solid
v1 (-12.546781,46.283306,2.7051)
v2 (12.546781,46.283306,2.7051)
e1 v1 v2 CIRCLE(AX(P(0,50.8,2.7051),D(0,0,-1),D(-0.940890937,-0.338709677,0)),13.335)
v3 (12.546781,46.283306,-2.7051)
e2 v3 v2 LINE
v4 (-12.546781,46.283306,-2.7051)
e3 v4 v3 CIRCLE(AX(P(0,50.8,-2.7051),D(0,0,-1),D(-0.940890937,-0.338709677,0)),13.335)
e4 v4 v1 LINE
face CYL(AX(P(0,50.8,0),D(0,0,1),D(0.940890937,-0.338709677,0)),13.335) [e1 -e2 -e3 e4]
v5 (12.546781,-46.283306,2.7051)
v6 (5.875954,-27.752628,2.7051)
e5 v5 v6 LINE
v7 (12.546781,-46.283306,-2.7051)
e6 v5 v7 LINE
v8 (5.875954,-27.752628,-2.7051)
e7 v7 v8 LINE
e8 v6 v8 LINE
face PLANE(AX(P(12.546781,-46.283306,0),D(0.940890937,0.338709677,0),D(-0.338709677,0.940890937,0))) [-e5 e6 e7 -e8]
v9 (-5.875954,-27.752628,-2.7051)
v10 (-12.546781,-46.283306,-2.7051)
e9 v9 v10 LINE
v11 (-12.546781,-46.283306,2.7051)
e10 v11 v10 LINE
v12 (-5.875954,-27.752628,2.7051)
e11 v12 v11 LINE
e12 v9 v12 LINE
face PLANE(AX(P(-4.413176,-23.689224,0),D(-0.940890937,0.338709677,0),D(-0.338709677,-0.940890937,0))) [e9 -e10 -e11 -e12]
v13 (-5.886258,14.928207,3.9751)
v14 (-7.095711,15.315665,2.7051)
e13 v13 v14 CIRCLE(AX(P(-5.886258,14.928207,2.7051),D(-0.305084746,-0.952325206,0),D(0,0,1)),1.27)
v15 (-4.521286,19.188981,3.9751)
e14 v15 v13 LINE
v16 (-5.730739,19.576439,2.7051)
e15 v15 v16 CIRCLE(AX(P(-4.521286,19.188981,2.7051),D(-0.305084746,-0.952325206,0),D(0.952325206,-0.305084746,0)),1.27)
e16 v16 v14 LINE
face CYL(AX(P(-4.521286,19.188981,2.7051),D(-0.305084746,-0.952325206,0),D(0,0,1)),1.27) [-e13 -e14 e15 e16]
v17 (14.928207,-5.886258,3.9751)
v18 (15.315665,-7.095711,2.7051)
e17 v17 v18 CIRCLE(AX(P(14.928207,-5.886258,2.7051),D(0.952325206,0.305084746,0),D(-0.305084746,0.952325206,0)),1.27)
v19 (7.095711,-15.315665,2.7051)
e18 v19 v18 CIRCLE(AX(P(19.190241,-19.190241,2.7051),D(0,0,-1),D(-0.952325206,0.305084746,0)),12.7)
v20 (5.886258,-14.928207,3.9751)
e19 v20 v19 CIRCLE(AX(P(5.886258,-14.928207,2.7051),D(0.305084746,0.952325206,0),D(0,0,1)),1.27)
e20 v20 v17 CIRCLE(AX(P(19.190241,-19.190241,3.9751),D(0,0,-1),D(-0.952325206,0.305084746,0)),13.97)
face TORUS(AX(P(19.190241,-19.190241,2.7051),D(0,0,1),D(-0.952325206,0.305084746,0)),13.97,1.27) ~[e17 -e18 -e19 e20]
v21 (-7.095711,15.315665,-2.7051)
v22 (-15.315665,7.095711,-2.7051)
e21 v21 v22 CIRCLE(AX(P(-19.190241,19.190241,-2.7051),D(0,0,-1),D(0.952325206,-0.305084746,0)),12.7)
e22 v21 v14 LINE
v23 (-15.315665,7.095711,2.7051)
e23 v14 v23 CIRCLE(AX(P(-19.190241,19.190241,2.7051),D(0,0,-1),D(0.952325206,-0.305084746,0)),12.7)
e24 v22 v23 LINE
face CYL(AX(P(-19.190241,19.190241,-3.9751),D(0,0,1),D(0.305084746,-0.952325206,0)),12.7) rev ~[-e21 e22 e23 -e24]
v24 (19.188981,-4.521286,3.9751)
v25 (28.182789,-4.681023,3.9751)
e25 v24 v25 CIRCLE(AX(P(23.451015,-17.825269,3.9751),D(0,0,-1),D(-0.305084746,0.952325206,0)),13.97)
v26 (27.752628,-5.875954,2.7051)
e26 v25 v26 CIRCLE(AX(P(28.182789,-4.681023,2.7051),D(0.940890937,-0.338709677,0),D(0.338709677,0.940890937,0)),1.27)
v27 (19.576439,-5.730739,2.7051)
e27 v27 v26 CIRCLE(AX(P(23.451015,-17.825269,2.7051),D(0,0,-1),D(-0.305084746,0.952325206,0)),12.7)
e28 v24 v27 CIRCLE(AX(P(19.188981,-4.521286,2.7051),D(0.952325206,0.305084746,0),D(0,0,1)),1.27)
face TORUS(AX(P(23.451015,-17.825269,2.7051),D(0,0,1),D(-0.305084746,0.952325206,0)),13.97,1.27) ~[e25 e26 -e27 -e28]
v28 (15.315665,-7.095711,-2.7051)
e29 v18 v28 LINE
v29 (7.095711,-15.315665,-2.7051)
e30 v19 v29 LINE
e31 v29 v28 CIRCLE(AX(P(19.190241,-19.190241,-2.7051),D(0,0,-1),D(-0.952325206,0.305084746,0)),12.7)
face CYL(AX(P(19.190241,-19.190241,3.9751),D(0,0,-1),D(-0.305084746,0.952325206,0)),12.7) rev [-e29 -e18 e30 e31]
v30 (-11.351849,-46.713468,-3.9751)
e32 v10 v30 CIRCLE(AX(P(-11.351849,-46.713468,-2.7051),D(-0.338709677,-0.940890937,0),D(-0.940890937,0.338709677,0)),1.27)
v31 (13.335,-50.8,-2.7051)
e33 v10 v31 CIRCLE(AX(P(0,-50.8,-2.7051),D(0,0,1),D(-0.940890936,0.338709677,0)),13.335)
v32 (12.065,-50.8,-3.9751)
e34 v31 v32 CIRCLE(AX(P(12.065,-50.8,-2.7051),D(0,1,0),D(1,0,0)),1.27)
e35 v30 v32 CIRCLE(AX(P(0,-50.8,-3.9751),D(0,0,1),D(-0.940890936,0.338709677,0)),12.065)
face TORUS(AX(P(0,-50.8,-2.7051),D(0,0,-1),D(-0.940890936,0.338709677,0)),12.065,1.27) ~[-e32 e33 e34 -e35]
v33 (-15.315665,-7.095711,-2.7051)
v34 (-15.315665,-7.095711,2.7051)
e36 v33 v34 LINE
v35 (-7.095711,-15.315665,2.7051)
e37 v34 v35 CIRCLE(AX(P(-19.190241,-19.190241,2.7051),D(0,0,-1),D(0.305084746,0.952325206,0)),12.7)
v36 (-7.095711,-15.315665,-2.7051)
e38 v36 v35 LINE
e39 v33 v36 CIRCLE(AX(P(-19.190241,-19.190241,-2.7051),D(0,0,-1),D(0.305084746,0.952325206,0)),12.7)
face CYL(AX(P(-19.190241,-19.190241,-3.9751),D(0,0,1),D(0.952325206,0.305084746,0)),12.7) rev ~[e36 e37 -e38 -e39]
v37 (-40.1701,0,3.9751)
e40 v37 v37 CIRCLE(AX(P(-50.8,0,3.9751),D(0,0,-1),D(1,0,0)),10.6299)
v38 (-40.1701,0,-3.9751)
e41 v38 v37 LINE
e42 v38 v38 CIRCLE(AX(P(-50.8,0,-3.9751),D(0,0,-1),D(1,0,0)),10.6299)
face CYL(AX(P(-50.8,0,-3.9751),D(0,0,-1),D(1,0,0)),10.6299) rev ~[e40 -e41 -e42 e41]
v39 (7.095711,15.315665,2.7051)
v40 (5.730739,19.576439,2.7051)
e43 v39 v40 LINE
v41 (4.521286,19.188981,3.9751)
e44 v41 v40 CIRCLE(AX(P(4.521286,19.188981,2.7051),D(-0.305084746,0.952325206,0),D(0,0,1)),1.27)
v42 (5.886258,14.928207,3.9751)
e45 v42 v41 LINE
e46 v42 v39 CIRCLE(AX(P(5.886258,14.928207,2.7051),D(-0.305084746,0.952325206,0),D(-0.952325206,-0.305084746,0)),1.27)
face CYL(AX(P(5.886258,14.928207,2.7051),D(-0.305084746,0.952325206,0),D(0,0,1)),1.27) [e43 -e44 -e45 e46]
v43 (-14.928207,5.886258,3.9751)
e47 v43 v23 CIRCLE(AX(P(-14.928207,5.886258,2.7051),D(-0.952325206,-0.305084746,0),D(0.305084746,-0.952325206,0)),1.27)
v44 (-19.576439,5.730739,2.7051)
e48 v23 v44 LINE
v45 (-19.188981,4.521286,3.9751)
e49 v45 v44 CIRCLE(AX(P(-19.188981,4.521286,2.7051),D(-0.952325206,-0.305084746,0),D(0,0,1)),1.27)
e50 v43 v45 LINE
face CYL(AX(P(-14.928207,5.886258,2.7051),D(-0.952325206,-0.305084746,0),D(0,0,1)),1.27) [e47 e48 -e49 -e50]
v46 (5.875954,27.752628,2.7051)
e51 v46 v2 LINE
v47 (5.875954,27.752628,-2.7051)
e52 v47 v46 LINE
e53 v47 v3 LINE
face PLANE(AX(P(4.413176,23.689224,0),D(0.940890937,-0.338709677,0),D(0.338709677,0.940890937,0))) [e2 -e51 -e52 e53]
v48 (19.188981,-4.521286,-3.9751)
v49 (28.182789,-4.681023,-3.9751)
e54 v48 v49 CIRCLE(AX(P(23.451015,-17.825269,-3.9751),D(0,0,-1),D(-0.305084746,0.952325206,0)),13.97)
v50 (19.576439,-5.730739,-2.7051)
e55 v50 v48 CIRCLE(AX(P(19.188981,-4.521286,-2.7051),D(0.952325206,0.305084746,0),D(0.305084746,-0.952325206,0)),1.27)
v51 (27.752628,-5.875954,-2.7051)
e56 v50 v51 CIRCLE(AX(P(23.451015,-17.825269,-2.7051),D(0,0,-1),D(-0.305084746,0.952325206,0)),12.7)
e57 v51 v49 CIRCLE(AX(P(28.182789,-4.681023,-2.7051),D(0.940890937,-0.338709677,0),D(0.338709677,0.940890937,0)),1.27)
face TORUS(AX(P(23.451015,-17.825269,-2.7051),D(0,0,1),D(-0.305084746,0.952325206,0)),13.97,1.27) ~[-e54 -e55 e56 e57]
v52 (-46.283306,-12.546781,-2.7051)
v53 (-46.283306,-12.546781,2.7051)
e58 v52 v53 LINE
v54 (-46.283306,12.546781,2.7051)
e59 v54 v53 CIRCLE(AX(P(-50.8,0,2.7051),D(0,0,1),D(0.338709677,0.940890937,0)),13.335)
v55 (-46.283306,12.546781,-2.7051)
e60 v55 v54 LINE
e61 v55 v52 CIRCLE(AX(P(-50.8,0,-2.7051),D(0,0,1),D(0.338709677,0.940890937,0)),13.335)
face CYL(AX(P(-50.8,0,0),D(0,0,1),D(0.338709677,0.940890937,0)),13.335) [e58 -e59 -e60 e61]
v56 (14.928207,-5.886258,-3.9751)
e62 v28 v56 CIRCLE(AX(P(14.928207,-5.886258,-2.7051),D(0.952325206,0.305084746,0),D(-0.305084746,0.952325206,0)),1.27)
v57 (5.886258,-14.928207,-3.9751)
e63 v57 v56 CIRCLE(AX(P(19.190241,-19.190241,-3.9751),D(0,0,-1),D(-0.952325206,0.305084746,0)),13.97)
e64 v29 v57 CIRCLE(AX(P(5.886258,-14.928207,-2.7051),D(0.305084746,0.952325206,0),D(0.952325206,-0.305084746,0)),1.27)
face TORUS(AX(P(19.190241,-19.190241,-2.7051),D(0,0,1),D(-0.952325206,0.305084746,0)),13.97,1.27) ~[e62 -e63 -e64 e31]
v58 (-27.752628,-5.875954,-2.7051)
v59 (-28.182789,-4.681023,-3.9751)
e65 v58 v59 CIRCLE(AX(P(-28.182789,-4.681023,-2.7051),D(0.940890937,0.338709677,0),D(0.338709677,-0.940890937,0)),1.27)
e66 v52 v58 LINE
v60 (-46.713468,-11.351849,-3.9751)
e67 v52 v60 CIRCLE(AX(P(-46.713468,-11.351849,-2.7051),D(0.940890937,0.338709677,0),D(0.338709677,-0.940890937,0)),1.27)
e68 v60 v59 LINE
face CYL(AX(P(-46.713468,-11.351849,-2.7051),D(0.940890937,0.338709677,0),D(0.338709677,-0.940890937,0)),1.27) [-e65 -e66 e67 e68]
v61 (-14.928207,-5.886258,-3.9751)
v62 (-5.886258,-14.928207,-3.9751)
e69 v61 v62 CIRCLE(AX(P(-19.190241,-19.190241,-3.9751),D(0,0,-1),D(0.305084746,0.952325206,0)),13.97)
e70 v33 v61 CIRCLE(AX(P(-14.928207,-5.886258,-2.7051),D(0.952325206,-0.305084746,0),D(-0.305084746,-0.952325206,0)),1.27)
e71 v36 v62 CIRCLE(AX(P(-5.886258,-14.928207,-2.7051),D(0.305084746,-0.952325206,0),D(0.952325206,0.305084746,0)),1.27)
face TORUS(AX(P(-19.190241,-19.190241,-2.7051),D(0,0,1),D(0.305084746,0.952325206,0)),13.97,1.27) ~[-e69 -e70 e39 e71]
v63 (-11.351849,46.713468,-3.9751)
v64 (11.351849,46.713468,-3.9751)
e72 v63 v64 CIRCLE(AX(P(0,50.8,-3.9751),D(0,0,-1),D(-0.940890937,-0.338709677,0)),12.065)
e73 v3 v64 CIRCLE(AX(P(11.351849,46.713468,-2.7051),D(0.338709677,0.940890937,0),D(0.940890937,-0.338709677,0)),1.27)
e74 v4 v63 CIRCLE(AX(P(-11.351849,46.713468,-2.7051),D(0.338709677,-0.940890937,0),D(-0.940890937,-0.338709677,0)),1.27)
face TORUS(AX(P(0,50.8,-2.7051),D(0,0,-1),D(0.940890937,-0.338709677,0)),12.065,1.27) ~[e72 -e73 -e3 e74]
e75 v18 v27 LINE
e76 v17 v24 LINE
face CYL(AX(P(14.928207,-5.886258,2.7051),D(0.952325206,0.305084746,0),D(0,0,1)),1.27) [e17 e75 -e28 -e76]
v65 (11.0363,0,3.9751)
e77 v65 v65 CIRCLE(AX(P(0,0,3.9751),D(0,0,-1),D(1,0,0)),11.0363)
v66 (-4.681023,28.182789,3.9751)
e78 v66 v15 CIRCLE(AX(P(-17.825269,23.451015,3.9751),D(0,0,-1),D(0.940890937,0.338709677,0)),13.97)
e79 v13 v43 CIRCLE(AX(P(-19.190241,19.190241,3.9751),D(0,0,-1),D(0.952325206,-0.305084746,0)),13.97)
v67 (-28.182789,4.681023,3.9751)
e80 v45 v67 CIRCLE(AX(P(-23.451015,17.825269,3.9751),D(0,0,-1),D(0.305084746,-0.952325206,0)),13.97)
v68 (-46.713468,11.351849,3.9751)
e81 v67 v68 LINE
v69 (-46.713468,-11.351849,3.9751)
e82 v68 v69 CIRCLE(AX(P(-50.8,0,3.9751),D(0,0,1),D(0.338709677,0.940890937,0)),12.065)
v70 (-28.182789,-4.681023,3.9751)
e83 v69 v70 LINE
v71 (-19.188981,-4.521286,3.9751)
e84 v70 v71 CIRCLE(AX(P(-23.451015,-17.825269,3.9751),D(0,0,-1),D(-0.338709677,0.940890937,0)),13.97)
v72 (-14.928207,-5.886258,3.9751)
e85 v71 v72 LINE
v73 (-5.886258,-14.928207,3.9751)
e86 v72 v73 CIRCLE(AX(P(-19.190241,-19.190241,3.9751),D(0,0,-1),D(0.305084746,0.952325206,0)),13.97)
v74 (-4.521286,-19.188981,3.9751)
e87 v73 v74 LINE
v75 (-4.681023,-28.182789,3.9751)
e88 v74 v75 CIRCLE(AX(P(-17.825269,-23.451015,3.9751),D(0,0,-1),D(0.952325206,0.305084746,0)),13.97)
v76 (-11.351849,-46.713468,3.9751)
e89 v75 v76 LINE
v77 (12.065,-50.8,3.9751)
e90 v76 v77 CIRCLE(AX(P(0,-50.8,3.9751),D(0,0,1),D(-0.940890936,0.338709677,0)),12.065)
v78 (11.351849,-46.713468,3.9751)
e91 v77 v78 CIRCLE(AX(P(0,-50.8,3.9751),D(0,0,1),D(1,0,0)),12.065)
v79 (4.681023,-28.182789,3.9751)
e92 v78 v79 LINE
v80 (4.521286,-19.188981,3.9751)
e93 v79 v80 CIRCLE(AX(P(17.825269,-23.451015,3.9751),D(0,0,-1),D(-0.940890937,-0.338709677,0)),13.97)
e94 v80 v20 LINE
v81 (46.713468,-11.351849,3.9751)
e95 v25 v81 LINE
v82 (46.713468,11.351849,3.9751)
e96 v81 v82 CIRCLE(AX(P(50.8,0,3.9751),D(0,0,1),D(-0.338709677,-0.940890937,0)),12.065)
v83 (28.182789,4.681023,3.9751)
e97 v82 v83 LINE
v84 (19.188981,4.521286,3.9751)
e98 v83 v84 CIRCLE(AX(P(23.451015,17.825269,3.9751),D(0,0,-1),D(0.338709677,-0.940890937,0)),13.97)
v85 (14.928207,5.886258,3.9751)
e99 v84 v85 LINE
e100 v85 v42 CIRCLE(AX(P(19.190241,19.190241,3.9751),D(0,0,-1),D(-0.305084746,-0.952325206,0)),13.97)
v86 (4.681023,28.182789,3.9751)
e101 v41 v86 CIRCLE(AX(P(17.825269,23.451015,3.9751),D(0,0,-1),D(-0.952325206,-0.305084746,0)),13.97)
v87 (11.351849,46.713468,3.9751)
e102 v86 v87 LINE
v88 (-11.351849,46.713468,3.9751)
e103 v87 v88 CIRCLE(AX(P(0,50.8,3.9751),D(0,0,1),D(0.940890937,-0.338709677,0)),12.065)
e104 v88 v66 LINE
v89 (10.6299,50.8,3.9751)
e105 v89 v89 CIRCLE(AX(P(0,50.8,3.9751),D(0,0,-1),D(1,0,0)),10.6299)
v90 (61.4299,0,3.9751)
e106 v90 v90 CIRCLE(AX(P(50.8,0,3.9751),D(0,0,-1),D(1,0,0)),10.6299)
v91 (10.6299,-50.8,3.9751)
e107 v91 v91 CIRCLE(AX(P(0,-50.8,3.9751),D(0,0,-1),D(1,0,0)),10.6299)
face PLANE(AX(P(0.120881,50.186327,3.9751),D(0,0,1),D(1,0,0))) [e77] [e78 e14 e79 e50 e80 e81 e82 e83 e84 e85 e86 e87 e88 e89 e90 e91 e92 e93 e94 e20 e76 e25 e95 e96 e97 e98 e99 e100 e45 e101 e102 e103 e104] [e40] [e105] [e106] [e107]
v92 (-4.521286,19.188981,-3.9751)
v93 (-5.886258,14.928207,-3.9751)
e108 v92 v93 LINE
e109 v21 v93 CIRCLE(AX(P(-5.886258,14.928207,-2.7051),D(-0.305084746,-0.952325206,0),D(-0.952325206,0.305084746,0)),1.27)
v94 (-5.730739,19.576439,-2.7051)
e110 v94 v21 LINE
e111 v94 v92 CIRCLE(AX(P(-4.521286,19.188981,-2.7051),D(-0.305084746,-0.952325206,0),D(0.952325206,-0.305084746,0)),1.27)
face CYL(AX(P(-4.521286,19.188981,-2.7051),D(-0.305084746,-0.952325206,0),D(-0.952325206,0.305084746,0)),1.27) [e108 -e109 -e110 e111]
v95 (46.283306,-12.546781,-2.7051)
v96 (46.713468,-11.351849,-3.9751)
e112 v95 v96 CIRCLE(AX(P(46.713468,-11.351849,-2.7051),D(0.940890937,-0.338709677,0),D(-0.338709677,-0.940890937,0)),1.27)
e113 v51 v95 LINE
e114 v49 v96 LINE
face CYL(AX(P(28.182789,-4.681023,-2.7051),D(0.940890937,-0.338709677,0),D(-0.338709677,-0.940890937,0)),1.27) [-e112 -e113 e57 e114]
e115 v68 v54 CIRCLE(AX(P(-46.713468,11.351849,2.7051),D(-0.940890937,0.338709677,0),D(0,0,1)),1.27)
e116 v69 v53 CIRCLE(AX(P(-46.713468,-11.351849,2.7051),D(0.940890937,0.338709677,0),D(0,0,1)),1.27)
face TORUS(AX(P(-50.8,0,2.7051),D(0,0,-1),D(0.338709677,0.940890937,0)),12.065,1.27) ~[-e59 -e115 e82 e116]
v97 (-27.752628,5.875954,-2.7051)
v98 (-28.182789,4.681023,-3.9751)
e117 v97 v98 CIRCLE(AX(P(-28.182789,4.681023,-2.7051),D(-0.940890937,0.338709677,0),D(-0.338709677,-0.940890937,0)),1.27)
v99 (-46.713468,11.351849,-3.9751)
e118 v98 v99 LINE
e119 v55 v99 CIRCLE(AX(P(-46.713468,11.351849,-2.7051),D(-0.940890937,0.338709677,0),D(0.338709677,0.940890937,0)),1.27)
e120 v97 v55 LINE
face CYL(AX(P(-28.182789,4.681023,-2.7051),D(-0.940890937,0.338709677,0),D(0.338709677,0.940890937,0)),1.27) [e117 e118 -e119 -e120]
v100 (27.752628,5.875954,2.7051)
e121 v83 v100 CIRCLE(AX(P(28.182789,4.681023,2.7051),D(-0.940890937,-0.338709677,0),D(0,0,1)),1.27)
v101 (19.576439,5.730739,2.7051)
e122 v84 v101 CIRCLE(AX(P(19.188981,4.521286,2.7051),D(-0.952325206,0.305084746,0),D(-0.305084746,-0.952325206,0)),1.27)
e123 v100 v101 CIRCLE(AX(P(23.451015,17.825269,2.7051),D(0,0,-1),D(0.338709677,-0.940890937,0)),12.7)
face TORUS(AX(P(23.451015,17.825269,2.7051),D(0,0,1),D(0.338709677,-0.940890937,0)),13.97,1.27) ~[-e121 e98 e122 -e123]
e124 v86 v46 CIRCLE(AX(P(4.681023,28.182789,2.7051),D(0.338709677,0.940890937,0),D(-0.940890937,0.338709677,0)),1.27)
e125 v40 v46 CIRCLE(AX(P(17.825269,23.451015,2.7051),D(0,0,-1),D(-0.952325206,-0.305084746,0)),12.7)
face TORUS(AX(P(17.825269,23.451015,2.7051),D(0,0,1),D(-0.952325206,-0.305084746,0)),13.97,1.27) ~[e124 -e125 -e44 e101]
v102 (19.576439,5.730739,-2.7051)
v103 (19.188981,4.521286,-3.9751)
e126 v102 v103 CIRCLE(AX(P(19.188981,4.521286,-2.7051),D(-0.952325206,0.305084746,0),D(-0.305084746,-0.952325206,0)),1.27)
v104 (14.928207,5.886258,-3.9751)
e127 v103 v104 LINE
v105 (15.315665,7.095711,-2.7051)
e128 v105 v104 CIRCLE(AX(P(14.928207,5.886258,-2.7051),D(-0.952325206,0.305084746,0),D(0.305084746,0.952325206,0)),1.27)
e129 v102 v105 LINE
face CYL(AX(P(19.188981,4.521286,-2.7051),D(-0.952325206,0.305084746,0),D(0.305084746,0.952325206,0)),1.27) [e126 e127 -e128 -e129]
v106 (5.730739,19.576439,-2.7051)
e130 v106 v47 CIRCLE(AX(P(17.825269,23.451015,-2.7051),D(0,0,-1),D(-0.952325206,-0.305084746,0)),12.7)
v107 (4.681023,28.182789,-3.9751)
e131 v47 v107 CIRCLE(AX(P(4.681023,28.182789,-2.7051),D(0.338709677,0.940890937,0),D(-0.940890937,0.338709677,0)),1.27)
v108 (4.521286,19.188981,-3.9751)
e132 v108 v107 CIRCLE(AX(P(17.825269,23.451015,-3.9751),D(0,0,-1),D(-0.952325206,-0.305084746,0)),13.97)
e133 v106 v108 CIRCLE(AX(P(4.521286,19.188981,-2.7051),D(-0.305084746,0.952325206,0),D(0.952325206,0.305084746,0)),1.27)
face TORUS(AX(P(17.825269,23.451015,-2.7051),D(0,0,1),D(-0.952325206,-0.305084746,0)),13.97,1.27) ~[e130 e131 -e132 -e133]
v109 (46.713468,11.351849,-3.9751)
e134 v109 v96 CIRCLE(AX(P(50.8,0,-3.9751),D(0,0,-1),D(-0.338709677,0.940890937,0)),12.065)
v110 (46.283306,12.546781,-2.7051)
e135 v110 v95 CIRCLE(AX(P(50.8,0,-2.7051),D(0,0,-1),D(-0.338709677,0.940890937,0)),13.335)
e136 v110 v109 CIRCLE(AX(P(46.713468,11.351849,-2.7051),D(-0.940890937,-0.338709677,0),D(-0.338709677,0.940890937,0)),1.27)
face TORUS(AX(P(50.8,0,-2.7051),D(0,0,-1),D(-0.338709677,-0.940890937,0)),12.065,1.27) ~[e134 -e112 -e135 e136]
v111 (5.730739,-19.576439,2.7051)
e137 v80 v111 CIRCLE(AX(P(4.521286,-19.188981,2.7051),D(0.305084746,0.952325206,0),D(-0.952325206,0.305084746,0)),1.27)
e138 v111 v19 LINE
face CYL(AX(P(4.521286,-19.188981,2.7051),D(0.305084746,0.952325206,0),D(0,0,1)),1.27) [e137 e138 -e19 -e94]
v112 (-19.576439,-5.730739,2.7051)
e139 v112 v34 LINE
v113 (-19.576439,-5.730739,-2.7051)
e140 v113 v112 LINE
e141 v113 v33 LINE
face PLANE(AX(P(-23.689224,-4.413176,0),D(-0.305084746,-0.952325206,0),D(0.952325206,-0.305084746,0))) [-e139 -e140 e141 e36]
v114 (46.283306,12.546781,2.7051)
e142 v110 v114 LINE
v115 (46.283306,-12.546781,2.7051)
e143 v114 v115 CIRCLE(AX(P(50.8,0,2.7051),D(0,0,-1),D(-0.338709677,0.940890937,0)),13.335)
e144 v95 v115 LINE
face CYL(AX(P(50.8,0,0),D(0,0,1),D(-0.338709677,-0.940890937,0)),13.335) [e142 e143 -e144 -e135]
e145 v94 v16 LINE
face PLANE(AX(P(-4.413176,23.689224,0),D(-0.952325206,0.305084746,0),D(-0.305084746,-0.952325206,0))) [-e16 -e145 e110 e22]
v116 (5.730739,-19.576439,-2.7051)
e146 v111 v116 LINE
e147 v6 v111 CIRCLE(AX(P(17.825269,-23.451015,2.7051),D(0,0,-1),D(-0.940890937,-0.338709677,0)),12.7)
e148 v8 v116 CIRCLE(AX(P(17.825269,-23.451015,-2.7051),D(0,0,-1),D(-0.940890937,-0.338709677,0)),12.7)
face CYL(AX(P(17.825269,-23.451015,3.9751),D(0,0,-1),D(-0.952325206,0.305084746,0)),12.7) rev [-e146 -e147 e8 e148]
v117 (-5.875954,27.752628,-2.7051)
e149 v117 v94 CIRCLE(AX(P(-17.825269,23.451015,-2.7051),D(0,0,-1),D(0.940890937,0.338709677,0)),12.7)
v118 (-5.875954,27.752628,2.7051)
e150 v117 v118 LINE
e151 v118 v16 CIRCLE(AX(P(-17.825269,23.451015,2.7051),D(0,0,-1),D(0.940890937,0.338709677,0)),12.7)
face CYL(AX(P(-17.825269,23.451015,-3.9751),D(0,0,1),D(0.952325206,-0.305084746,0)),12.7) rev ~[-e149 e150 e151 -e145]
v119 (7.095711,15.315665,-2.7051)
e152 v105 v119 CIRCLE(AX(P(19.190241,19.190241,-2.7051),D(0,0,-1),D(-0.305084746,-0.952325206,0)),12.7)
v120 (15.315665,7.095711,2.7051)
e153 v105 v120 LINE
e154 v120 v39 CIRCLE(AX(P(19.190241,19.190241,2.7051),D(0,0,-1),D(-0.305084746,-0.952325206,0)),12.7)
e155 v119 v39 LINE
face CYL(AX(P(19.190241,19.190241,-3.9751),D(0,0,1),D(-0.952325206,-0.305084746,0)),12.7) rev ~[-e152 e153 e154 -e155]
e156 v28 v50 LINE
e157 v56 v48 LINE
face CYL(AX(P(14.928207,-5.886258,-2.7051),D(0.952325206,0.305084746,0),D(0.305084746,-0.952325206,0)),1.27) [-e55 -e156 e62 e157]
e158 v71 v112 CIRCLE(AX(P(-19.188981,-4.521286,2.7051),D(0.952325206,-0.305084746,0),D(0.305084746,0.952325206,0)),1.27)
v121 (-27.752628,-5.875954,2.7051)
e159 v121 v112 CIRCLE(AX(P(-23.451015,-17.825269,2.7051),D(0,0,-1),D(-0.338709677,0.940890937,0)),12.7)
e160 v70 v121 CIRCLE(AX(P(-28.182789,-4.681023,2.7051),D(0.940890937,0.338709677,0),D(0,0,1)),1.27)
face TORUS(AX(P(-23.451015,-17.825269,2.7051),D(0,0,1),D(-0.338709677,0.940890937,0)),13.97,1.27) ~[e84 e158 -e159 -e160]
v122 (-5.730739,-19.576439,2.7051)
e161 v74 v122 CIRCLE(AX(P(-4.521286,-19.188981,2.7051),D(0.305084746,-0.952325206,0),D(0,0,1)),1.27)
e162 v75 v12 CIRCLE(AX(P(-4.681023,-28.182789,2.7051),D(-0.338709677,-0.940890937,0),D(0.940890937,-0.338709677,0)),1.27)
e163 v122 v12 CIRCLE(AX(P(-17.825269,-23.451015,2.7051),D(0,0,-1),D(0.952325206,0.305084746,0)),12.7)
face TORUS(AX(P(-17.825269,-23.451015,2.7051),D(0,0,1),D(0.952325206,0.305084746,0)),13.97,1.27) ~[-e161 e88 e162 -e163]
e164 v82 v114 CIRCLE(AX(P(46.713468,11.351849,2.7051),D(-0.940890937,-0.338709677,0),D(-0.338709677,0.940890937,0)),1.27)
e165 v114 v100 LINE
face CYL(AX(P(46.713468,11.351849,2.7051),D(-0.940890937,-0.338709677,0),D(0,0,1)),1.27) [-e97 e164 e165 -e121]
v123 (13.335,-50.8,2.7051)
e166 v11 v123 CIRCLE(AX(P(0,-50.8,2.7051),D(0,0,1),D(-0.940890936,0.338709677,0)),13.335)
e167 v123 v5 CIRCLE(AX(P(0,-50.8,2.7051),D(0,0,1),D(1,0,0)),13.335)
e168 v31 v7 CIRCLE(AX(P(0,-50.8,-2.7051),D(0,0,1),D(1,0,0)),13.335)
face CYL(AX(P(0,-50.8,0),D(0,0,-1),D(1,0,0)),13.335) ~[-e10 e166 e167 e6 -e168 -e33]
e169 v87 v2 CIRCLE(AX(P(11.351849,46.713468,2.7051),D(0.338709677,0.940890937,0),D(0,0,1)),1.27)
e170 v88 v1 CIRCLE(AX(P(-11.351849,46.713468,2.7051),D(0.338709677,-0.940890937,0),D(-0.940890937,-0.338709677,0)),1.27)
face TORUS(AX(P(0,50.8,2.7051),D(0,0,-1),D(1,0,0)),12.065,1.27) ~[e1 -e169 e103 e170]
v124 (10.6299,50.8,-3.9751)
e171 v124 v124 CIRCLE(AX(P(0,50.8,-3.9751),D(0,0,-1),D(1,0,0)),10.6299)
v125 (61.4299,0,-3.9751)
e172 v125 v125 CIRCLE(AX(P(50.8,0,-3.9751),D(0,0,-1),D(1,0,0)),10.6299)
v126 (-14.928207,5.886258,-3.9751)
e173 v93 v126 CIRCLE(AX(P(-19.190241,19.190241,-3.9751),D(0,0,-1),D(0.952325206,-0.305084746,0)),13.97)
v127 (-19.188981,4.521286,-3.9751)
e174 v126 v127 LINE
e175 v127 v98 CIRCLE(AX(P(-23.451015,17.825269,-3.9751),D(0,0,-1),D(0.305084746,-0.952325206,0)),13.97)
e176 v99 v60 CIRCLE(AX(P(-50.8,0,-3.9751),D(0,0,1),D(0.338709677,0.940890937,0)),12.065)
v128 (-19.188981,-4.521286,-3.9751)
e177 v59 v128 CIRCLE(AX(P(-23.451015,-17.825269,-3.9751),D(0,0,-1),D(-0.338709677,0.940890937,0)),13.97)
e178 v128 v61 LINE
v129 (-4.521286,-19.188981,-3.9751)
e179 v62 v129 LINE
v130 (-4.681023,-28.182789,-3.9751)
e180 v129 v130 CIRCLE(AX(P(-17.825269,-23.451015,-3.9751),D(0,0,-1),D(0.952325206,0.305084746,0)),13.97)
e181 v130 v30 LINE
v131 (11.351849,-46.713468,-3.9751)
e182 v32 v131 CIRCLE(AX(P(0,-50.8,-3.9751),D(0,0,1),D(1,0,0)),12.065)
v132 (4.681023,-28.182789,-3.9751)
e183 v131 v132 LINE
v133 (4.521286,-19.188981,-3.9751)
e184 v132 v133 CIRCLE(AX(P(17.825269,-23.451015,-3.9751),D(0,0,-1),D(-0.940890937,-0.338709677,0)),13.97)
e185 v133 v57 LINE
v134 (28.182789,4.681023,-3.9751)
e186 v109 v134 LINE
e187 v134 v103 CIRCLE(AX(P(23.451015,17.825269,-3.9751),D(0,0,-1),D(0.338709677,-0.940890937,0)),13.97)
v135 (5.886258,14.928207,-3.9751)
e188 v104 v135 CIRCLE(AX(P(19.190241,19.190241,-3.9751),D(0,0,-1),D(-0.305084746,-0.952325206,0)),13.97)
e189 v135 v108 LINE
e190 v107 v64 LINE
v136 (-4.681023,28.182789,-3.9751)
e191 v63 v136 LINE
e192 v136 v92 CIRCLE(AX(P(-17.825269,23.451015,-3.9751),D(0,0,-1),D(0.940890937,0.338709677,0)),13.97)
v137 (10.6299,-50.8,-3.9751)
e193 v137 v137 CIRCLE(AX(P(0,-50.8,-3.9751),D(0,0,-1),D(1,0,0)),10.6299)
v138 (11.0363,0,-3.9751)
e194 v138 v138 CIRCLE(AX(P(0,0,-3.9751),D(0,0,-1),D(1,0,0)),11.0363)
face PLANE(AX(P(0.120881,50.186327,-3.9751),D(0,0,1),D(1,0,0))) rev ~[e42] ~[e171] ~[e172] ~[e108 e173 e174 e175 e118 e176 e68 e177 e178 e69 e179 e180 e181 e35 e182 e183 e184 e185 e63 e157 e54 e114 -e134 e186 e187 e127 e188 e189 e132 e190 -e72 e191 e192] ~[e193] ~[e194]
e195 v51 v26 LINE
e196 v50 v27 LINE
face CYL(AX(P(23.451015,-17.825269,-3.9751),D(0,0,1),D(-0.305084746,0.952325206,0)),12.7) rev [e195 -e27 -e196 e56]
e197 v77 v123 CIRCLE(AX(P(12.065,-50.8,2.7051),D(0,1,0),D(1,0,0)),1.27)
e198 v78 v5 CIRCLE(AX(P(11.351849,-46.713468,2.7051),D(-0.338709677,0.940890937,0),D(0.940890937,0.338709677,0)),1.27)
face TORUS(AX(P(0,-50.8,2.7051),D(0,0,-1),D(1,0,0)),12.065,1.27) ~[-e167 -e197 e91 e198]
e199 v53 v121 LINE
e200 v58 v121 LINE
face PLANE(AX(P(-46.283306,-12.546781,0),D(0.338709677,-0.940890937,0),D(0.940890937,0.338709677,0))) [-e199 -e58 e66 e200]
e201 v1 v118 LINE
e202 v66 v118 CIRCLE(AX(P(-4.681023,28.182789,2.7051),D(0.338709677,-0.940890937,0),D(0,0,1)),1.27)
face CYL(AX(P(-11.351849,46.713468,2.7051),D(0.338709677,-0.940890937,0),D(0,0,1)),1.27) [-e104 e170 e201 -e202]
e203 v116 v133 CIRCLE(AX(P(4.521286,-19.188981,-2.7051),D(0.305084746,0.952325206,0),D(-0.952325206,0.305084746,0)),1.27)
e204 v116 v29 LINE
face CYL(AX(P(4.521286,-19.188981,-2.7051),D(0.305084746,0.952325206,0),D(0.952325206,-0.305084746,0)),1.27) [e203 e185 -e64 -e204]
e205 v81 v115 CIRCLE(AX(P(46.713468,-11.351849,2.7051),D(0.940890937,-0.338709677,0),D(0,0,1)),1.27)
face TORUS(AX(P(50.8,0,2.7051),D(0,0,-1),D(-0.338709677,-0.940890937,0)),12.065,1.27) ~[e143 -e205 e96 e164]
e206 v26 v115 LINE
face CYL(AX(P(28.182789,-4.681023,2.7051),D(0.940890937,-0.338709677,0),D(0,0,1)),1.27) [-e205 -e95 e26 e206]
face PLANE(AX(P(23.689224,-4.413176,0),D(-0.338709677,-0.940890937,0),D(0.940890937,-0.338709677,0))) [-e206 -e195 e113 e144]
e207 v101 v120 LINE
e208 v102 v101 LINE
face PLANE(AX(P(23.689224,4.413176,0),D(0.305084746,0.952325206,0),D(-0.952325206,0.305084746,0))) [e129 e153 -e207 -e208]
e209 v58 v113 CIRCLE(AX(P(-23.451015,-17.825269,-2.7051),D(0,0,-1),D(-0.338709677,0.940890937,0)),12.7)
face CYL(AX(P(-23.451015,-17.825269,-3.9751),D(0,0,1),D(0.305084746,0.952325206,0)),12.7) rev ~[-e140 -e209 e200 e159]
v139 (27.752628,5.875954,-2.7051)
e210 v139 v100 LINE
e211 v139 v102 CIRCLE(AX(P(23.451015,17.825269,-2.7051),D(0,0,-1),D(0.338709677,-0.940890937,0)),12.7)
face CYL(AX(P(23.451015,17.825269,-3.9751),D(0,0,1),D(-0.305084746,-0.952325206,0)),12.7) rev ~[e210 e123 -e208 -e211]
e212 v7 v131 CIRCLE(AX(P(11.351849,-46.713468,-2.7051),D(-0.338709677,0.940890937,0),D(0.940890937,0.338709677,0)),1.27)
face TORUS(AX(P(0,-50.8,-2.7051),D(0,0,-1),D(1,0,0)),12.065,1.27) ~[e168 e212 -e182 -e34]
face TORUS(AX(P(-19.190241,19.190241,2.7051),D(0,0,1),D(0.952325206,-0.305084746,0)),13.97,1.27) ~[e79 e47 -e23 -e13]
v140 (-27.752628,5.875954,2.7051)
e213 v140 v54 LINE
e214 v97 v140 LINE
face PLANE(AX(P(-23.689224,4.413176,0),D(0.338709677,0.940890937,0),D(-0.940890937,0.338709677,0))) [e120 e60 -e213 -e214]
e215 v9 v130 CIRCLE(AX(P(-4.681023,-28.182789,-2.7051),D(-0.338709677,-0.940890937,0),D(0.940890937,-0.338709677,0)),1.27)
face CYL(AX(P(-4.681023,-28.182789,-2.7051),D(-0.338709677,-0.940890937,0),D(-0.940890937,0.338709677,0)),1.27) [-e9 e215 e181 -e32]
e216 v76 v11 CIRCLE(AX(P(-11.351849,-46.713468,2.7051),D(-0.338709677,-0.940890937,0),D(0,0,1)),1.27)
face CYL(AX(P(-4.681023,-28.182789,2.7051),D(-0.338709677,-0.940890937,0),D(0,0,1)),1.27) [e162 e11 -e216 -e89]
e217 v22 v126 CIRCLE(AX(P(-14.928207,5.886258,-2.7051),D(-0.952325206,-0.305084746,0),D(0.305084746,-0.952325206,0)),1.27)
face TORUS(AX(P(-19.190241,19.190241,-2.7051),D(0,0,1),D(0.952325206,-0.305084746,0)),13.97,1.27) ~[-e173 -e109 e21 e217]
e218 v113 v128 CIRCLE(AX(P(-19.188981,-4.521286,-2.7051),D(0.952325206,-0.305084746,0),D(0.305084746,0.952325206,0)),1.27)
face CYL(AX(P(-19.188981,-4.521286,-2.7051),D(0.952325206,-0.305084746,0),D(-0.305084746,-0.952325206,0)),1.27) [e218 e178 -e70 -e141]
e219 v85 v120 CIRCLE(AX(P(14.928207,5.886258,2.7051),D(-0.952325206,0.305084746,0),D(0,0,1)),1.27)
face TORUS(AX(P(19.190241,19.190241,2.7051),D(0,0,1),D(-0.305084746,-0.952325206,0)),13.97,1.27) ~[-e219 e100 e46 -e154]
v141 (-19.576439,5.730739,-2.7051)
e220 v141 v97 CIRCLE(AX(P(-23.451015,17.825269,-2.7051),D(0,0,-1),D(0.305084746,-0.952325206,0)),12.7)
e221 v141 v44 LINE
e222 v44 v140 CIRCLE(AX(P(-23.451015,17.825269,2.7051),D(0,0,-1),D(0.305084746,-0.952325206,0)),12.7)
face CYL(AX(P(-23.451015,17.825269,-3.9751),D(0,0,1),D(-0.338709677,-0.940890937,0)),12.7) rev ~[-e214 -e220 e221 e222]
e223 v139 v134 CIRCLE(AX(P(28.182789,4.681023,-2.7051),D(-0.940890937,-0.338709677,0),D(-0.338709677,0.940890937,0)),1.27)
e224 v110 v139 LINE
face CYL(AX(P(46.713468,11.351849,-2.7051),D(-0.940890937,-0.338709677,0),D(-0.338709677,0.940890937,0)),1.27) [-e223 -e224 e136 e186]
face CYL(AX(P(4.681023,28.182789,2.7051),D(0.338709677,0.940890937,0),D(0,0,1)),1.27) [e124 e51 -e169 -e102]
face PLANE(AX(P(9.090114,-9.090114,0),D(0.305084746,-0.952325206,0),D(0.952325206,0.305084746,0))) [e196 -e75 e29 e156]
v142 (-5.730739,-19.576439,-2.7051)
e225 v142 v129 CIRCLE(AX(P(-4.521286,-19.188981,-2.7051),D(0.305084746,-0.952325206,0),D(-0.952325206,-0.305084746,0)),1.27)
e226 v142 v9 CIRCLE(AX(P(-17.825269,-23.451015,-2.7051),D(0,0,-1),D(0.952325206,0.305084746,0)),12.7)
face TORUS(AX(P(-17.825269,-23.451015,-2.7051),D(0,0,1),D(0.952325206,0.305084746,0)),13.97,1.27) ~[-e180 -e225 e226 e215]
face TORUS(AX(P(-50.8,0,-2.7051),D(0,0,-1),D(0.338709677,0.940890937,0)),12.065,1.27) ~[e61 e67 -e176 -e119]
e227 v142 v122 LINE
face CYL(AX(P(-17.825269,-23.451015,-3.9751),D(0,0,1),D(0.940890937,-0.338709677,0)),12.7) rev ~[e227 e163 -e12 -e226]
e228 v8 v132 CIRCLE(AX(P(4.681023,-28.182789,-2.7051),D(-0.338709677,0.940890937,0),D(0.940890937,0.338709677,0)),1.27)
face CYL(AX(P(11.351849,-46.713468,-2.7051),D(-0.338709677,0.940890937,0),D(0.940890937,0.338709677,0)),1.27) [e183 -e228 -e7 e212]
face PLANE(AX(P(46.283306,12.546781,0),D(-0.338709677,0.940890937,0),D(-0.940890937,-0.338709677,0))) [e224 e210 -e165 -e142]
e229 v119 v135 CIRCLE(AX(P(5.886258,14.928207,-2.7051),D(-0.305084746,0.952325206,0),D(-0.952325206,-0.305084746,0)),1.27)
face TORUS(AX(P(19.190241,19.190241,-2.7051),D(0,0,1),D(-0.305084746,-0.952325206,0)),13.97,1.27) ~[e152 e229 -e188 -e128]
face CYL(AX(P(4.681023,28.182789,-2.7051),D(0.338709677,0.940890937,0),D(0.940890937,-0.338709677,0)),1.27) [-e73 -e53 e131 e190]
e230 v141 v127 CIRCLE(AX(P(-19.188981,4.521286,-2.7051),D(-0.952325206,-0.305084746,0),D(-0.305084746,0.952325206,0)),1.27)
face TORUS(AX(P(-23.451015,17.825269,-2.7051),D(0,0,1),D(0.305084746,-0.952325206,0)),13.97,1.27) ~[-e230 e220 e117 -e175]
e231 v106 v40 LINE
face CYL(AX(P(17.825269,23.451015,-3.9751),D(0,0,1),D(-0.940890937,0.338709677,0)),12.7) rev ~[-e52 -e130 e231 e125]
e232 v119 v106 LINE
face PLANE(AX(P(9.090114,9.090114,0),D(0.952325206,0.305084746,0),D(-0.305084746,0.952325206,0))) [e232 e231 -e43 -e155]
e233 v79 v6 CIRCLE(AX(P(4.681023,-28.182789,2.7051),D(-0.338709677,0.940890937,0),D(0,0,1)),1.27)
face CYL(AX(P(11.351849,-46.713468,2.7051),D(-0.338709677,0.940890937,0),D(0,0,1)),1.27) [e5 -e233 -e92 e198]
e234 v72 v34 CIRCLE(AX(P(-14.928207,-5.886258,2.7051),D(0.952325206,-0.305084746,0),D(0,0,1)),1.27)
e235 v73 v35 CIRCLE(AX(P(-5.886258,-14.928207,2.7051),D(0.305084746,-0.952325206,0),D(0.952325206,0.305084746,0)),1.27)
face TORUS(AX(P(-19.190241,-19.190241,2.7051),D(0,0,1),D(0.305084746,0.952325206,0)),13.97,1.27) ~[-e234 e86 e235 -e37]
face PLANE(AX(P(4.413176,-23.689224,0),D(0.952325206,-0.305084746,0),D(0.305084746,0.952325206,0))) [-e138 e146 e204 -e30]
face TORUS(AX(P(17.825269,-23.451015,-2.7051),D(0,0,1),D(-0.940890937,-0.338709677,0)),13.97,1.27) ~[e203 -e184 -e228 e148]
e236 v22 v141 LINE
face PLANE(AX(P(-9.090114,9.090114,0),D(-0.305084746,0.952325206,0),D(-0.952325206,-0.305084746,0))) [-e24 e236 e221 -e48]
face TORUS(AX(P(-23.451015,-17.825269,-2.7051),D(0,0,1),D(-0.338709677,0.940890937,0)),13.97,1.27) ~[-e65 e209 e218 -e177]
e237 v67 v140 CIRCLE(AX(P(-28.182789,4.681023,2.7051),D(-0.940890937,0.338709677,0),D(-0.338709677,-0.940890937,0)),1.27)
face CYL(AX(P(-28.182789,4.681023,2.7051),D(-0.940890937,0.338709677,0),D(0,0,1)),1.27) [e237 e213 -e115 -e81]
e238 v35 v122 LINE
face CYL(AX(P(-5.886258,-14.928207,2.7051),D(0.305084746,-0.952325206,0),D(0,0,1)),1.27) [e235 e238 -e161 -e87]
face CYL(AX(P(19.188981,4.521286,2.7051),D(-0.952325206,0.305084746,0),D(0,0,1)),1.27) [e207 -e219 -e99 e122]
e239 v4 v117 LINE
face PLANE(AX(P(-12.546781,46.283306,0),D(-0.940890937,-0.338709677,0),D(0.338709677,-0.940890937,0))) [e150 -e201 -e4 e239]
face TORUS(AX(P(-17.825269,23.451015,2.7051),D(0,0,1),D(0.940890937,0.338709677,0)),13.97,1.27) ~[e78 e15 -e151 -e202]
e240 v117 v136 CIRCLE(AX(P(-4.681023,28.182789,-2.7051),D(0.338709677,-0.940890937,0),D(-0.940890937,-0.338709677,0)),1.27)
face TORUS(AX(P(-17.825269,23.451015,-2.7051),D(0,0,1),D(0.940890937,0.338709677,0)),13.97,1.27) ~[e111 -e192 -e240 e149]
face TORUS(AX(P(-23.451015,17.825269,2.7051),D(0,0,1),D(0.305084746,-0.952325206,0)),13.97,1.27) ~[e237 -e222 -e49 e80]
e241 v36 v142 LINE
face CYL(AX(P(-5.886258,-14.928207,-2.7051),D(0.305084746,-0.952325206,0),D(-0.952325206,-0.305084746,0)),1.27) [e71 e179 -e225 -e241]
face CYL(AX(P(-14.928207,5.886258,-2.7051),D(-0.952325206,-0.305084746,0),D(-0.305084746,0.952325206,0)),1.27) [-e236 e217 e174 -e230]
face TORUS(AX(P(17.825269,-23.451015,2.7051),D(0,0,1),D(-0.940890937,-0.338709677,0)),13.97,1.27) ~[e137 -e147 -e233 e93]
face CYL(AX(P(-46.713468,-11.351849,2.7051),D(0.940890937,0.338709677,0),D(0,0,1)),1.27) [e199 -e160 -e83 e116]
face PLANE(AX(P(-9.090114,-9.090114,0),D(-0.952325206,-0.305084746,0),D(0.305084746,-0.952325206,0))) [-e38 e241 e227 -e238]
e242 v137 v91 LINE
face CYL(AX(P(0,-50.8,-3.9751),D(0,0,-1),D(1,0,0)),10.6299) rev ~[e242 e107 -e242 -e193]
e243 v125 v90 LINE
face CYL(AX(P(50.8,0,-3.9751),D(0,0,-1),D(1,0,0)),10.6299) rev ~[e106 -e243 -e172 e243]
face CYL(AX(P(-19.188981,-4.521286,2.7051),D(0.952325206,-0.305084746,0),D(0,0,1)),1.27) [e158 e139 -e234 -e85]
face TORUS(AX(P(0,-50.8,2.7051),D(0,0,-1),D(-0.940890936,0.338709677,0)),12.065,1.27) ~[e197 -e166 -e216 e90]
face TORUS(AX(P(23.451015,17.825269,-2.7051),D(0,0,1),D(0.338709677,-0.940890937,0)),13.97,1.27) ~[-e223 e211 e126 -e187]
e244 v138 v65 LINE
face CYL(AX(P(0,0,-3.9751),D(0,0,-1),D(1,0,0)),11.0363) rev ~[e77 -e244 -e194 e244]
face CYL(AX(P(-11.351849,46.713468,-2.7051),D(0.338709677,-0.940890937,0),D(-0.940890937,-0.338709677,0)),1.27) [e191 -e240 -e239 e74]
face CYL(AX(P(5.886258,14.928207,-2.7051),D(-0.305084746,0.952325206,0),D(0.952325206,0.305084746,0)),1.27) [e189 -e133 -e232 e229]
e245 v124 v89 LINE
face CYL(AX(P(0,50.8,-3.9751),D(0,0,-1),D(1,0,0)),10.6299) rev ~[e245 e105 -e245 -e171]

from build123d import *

# Parameters (mm, degrees)
F1_DEPTH = 3.9751
F2_R     = 12.7
F3_R     = 10.6299
F3_R_2   = 11.0363
F4_DEPTH = 7.9502
F5_R     = 1.27
F6_R     = 1.27


with BuildPart() as f1:
    # F0 (on Top) → F1 (new body, symmetric)
    with BuildSketch(Plane.XY):
        with BuildLine():
            ThreePointArc((-12.5467806385, 46.2833064516), (-7.6678587797, 39.890088601), (0, 37.465))
            ThreePointArc((0, 37.465), (7.6678587797, 39.890088601), (12.5467806385, 46.2833064516))
            ThreePointArc((12.5467806385, 46.2833064516), (13.1364672727, 48.507522608), (13.335, 50.8))
            ThreePointArc((13.335, 50.8), (-2.292477392, 63.9364672727), (-12.5467806385, 46.2833064516))
        make_face()
        with BuildLine():
            Line((-12.5467806385, 46.2833064516), (-4.4131764623, 23.6892237879))
            Line((-4.4131764623, 23.6892237879), (0, 37.465))
            ThreePointArc((0, 37.465), (-7.6678587797, 39.890088601), (-12.5467806385, 46.2833064516))
        make_face()
        with BuildLine():
            Line((0, 37.465), (4.4131764623, 23.6892237879))
            Line((4.4131764623, 23.6892237879), (12.5467806385, 46.2833064516))
            ThreePointArc((12.5467806385, 46.2833064516), (7.6678587797, 39.890088601), (0, 37.465))
        make_face()
        with BuildLine():
            Line((-37.465, 0), (-23.6892237879, 4.4131764623))
            Line((-23.6892237879, 4.4131764623), (-46.2833064516, 12.5467806385))
            ThreePointArc((-46.2833064516, 12.5467806385), (-39.890088601, 7.6678587797), (-37.465, 0))
        make_face()
        with BuildLine():
            Line((-46.2833064516, -12.5467806385), (-23.6892237879, -4.4131764623))
            Line((-23.6892237879, -4.4131764623), (-37.465, 0))
            ThreePointArc((-37.465, 0), (-39.890088601, -7.6678587797), (-46.2833064516, -12.5467806385))
        make_face()
        with BuildLine():
            ThreePointArc((12.5467806385, -46.2833064516), (7.6678587797, -39.890088601), (0, -37.465))
            ThreePointArc((0, -37.465), (-7.6678587797, -39.890088601), (-12.5467806385, -46.2833064516))
            ThreePointArc((-12.5467806385, -46.2833064516), (-2.292477392, -63.9364672727), (13.335, -50.8))
            ThreePointArc((13.335, -50.8), (13.1364672727, -48.507522608), (12.5467806385, -46.2833064516))
        make_face()
        with BuildLine():
            Line((12.5467806385, -46.2833064516), (4.4131764623, -23.6892237879))
            Line((4.4131764623, -23.6892237879), (0, -37.465))
            ThreePointArc((0, -37.465), (7.6678587797, -39.890088601), (12.5467806385, -46.2833064516))
        make_face()
        with BuildLine():
            Line((0, -37.465), (-4.4131764623, -23.6892237879))
            Line((-4.4131764623, -23.6892237879), (-12.5467806385, -46.2833064516))
            ThreePointArc((-12.5467806385, -46.2833064516), (-7.6678587797, -39.890088601), (0, -37.465))
        make_face()
        with BuildLine():
            ThreePointArc((46.2833064516, 12.5467806385), (39.890088601, 7.6678587797), (37.465, 0))
            ThreePointArc((37.465, 0), (39.890088601, -7.6678587797), (46.2833064516, -12.5467806385))
            ThreePointArc((46.2833064516, -12.5467806385), (58.4678587797, -10.909911399), (64.135, 0))
            ThreePointArc((64.135, 0), (58.4678587797, 10.909911399), (46.2833064516, 12.5467806385))
        make_face()
        with BuildLine():
            Line((46.2833064516, 12.5467806385), (23.6892237879, 4.4131764623))
            Line((23.6892237879, 4.4131764623), (37.465, 0))
            ThreePointArc((37.465, 0), (39.890088601, 7.6678587797), (46.2833064516, 12.5467806385))
        make_face()
        with BuildLine():
            Line((37.465, 0), (23.6892237879, -4.4131764623))
            Line((23.6892237879, -4.4131764623), (46.2833064516, -12.5467806385))
            ThreePointArc((46.2833064516, -12.5467806385), (39.890088601, -7.6678587797), (37.465, 0))
        make_face()
        with BuildLine():
            ThreePointArc((10.8850771041, 3.4871186441), (11.2929476068, 1.7647193403), (11.43, 0))
            Line((11.43, 0), (23.6892237879, 4.4131764623))
            Line((23.6892237879, 4.4131764623), (9.0901141544, 9.0901141544))
            Line((9.0901141544, 9.0901141544), (10.8850771041, 3.4871186441))
        make_face()
        with BuildLine():
            ThreePointArc((3.4871186441, 10.8850771041), (8.082230509, 8.082230509), (10.8850771041, 3.4871186441))
            Line((10.8850771041, 3.4871186441), (9.0901141544, 9.0901141544))
            Line((9.0901141544, 9.0901141544), (3.4871186441, 10.8850771041))
        make_face()
        with BuildLine():
            ThreePointArc((0, 11.43), (1.7647193403, 11.2929476068), (3.4871186441, 10.8850771041))
            Line((3.4871186441, 10.8850771041), (9.0901141544, 9.0901141544))
            Line((9.0901141544, 9.0901141544), (4.4131764623, 23.6892237879))
            Line((4.4131764623, 23.6892237879), (0, 11.43))
        make_face()
        with BuildLine():
            ThreePointArc((-3.4871186441, 10.8850771041), (-1.7647193403, 11.2929476068), (0, 11.43))
            Line((0, 11.43), (-4.4131764623, 23.6892237879))
            Line((-4.4131764623, 23.6892237879), (-9.0901141544, 9.0901141544))
            Line((-9.0901141544, 9.0901141544), (-3.4871186441, 10.8850771041))
        make_face()
        with BuildLine():
            ThreePointArc((-10.8850771041, 3.4871186441), (-8.082230509, 8.082230509), (-3.4871186441, 10.8850771041))
            Line((-3.4871186441, 10.8850771041), (-9.0901141544, 9.0901141544))
            Line((-9.0901141544, 9.0901141544), (-10.8850771041, 3.4871186441))
        make_face()
        with BuildLine():
            Line((-23.6892237879, 4.4131764623), (-11.43, 0))
            ThreePointArc((-11.43, 0), (-11.2929476068, 1.7647193403), (-10.8850771041, 3.4871186441))
            Line((-10.8850771041, 3.4871186441), (-9.0901141544, 9.0901141544))
            Line((-9.0901141544, 9.0901141544), (-23.6892237879, 4.4131764623))
        make_face()
        with BuildLine():
            ThreePointArc((-10.8850771041, -3.4871186441), (-11.2929476068, -1.7647193403), (-11.43, 0))
            Line((-11.43, 0), (-23.6892237879, -4.4131764623))
            Line((-23.6892237879, -4.4131764623), (-9.0901141544, -9.0901141544))
            Line((-9.0901141544, -9.0901141544), (-10.8850771041, -3.4871186441))
        make_face()
        with BuildLine():
            ThreePointArc((-3.4871186441, -10.8850771041), (-8.082230509, -8.082230509), (-10.8850771041, -3.4871186441))
            Line((-10.8850771041, -3.4871186441), (-9.0901141544, -9.0901141544))
            Line((-9.0901141544, -9.0901141544), (-3.4871186441, -10.8850771041))
        make_face()
        with BuildLine():
            Line((-4.4131764623, -23.6892237879), (0, -11.43))
            ThreePointArc((0, -11.43), (-1.7647193403, -11.2929476068), (-3.4871186441, -10.8850771041))
            Line((-3.4871186441, -10.8850771041), (-9.0901141544, -9.0901141544))
            Line((-9.0901141544, -9.0901141544), (-4.4131764623, -23.6892237879))
        make_face()
        with BuildLine():
            Line((9.0901141544, -9.0901141544), (3.4871186441, -10.8850771041))
            ThreePointArc((3.4871186441, -10.8850771041), (1.7647193403, -11.2929476068), (0, -11.43))
            Line((0, -11.43), (4.4131764623, -23.6892237879))
            Line((4.4131764623, -23.6892237879), (9.0901141544, -9.0901141544))
        make_face()
        with BuildLine():
            Line((9.0901141544, -9.0901141544), (10.8850771041, -3.4871186441))
            ThreePointArc((10.8850771041, -3.4871186441), (8.082230509, -8.082230509), (3.4871186441, -10.8850771041))
            Line((3.4871186441, -10.8850771041), (9.0901141544, -9.0901141544))
        make_face()
        with BuildLine():
            Line((23.6892237879, -4.4131764623), (11.43, 0))
            ThreePointArc((11.43, 0), (11.2929476068, -1.7647193403), (10.8850771041, -3.4871186441))
            Line((10.8850771041, -3.4871186441), (9.0901141544, -9.0901141544))
            Line((9.0901141544, -9.0901141544), (23.6892237879, -4.4131764623))
        make_face()
        Polygon((-4.4131764623, 23.6892237879), (0, 11.43), (0, 37.465), align=None)
        Polygon((0, 37.465), (0, 11.43), (4.4131764623, 23.6892237879), align=None)
        Polygon((-37.465, 0), (-11.43, 0), (-23.6892237879, 4.4131764623), align=None)
        Polygon((-23.6892237879, -4.4131764623), (-11.43, 0), (-37.465, 0), align=None)
        Polygon((0, -37.465), (0, -11.43), (-4.4131764623, -23.6892237879), align=None)
        Polygon((4.4131764623, -23.6892237879), (0, -11.43), (0, -37.465), align=None)
        Polygon((23.6892237879, 4.4131764623), (11.43, 0), (37.465, 0), align=None)
        Polygon((37.465, 0), (11.43, 0), (23.6892237879, -4.4131764623), align=None)
        with BuildLine():
            Line((-11.43, 0), (0, 0))
            Line((0, 0), (0, 11.43))
            ThreePointArc((0, 11.43), (-1.7647193403, 11.2929476068), (-3.4871186441, 10.8850771041))
            ThreePointArc((-3.4871186441, 10.8850771041), (-8.082230509, 8.082230509), (-10.8850771041, 3.4871186441))
            ThreePointArc((-10.8850771041, 3.4871186441), (-11.2929476068, 1.7647193403), (-11.43, 0))
        make_face()
        with BuildLine():
            Line((0, -11.43), (0, 0))
            Line((0, 0), (-11.43, 0))
            ThreePointArc((-11.43, 0), (-11.2929476068, -1.7647193403), (-10.8850771041, -3.4871186441))
            ThreePointArc((-10.8850771041, -3.4871186441), (-8.082230509, -8.082230509), (-3.4871186441, -10.8850771041))
            ThreePointArc((-3.4871186441, -10.8850771041), (-1.7647193403, -11.2929476068), (0, -11.43))
        make_face()
        with BuildLine():
            Line((0, 0), (11.43, 0))
            ThreePointArc((11.43, 0), (11.2929476068, 1.7647193403), (10.8850771041, 3.4871186441))
            ThreePointArc((10.8850771041, 3.4871186441), (8.082230509, 8.082230509), (3.4871186441, 10.8850771041))
            ThreePointArc((3.4871186441, 10.8850771041), (1.7647193403, 11.2929476068), (0, 11.43))
            Line((0, 11.43), (0, 0))
        make_face()
        with BuildLine():
            ThreePointArc((10.8850771041, -3.4871186441), (11.2929476068, -1.7647193403), (11.43, 0))
            Line((11.43, 0), (0, 0))
            Line((0, 0), (0, -11.43))
            ThreePointArc((0, -11.43), (1.7647193403, -11.2929476068), (3.4871186441, -10.8850771041))
            ThreePointArc((3.4871186441, -10.8850771041), (8.082230509, -8.082230509), (10.8850771041, -3.4871186441))
        make_face()
        with BuildLine():
            ThreePointArc((-46.2833064516, -12.5467806385), (-39.890088601, -7.6678587797), (-37.465, 0))
            ThreePointArc((-37.465, 0), (-39.890088601, 7.6678587797), (-46.2833064516, 12.5467806385))
            ThreePointArc((-46.2833064516, 12.5467806385), (-64.135, 0), (-46.2833064516, -12.5467806385))
        make_face()
    extrude(amount=F1_DEPTH, both=True)

    # F2
    f2_edges = [f1.edges().sort_by_distance(p)[0] for p in [
        (-23.689224, -4.413176, 0),
        (-9.090114, -9.090114, 0),
        (-4.413176, -23.689224, 0),
        (4.413176, -23.689224, 0),
        (9.090114, -9.090114, 0),
        (23.689224, -4.413176, 0),
        (23.689224, 4.413176, 0),
        (9.090114, 9.090114, 0),
        (4.413176, 23.689224, 0),
        (-9.090114, 9.090114, 0),
        (-23.689224, 4.413176, 0),
        (-4.413176, 23.689224, 0),
    ]]
    fillet(f2_edges, radius=F2_R)

    # F3 (on face) → F4 (cut, through all)
    with BuildSketch(Plane(origin=(0, 0, -3.9751), x_dir=(1, 0, 0), z_dir=(0, 0, -1))):
        with Locations((-50.8, 0)):
            Circle(F3_R)
        Circle(F3_R_2)
        with Locations((50.8, 0)):
            Circle(F3_R)
        with Locations((0, 50.8)):
            Circle(F3_R)
        with Locations((0, -50.8)):
            Circle(F3_R)
    extrude(amount=-F4_DEPTH, mode=Mode.SUBTRACT)

    # F5
    f5_edges = [f1.edges().sort_by_distance(p)[0] for p in [
        (-37.017967, -9.211367, 3.9751),
    ]]
    fillet(f5_edges, radius=F5_R)

    # F6
    f6_edges = [f1.edges().sort_by_distance(p)[0] for p in [
        (9.211367, -37.017967, -3.9751),
    ]]
    fillet(f6_edges, radius=F6_R)


solid = f1.part
